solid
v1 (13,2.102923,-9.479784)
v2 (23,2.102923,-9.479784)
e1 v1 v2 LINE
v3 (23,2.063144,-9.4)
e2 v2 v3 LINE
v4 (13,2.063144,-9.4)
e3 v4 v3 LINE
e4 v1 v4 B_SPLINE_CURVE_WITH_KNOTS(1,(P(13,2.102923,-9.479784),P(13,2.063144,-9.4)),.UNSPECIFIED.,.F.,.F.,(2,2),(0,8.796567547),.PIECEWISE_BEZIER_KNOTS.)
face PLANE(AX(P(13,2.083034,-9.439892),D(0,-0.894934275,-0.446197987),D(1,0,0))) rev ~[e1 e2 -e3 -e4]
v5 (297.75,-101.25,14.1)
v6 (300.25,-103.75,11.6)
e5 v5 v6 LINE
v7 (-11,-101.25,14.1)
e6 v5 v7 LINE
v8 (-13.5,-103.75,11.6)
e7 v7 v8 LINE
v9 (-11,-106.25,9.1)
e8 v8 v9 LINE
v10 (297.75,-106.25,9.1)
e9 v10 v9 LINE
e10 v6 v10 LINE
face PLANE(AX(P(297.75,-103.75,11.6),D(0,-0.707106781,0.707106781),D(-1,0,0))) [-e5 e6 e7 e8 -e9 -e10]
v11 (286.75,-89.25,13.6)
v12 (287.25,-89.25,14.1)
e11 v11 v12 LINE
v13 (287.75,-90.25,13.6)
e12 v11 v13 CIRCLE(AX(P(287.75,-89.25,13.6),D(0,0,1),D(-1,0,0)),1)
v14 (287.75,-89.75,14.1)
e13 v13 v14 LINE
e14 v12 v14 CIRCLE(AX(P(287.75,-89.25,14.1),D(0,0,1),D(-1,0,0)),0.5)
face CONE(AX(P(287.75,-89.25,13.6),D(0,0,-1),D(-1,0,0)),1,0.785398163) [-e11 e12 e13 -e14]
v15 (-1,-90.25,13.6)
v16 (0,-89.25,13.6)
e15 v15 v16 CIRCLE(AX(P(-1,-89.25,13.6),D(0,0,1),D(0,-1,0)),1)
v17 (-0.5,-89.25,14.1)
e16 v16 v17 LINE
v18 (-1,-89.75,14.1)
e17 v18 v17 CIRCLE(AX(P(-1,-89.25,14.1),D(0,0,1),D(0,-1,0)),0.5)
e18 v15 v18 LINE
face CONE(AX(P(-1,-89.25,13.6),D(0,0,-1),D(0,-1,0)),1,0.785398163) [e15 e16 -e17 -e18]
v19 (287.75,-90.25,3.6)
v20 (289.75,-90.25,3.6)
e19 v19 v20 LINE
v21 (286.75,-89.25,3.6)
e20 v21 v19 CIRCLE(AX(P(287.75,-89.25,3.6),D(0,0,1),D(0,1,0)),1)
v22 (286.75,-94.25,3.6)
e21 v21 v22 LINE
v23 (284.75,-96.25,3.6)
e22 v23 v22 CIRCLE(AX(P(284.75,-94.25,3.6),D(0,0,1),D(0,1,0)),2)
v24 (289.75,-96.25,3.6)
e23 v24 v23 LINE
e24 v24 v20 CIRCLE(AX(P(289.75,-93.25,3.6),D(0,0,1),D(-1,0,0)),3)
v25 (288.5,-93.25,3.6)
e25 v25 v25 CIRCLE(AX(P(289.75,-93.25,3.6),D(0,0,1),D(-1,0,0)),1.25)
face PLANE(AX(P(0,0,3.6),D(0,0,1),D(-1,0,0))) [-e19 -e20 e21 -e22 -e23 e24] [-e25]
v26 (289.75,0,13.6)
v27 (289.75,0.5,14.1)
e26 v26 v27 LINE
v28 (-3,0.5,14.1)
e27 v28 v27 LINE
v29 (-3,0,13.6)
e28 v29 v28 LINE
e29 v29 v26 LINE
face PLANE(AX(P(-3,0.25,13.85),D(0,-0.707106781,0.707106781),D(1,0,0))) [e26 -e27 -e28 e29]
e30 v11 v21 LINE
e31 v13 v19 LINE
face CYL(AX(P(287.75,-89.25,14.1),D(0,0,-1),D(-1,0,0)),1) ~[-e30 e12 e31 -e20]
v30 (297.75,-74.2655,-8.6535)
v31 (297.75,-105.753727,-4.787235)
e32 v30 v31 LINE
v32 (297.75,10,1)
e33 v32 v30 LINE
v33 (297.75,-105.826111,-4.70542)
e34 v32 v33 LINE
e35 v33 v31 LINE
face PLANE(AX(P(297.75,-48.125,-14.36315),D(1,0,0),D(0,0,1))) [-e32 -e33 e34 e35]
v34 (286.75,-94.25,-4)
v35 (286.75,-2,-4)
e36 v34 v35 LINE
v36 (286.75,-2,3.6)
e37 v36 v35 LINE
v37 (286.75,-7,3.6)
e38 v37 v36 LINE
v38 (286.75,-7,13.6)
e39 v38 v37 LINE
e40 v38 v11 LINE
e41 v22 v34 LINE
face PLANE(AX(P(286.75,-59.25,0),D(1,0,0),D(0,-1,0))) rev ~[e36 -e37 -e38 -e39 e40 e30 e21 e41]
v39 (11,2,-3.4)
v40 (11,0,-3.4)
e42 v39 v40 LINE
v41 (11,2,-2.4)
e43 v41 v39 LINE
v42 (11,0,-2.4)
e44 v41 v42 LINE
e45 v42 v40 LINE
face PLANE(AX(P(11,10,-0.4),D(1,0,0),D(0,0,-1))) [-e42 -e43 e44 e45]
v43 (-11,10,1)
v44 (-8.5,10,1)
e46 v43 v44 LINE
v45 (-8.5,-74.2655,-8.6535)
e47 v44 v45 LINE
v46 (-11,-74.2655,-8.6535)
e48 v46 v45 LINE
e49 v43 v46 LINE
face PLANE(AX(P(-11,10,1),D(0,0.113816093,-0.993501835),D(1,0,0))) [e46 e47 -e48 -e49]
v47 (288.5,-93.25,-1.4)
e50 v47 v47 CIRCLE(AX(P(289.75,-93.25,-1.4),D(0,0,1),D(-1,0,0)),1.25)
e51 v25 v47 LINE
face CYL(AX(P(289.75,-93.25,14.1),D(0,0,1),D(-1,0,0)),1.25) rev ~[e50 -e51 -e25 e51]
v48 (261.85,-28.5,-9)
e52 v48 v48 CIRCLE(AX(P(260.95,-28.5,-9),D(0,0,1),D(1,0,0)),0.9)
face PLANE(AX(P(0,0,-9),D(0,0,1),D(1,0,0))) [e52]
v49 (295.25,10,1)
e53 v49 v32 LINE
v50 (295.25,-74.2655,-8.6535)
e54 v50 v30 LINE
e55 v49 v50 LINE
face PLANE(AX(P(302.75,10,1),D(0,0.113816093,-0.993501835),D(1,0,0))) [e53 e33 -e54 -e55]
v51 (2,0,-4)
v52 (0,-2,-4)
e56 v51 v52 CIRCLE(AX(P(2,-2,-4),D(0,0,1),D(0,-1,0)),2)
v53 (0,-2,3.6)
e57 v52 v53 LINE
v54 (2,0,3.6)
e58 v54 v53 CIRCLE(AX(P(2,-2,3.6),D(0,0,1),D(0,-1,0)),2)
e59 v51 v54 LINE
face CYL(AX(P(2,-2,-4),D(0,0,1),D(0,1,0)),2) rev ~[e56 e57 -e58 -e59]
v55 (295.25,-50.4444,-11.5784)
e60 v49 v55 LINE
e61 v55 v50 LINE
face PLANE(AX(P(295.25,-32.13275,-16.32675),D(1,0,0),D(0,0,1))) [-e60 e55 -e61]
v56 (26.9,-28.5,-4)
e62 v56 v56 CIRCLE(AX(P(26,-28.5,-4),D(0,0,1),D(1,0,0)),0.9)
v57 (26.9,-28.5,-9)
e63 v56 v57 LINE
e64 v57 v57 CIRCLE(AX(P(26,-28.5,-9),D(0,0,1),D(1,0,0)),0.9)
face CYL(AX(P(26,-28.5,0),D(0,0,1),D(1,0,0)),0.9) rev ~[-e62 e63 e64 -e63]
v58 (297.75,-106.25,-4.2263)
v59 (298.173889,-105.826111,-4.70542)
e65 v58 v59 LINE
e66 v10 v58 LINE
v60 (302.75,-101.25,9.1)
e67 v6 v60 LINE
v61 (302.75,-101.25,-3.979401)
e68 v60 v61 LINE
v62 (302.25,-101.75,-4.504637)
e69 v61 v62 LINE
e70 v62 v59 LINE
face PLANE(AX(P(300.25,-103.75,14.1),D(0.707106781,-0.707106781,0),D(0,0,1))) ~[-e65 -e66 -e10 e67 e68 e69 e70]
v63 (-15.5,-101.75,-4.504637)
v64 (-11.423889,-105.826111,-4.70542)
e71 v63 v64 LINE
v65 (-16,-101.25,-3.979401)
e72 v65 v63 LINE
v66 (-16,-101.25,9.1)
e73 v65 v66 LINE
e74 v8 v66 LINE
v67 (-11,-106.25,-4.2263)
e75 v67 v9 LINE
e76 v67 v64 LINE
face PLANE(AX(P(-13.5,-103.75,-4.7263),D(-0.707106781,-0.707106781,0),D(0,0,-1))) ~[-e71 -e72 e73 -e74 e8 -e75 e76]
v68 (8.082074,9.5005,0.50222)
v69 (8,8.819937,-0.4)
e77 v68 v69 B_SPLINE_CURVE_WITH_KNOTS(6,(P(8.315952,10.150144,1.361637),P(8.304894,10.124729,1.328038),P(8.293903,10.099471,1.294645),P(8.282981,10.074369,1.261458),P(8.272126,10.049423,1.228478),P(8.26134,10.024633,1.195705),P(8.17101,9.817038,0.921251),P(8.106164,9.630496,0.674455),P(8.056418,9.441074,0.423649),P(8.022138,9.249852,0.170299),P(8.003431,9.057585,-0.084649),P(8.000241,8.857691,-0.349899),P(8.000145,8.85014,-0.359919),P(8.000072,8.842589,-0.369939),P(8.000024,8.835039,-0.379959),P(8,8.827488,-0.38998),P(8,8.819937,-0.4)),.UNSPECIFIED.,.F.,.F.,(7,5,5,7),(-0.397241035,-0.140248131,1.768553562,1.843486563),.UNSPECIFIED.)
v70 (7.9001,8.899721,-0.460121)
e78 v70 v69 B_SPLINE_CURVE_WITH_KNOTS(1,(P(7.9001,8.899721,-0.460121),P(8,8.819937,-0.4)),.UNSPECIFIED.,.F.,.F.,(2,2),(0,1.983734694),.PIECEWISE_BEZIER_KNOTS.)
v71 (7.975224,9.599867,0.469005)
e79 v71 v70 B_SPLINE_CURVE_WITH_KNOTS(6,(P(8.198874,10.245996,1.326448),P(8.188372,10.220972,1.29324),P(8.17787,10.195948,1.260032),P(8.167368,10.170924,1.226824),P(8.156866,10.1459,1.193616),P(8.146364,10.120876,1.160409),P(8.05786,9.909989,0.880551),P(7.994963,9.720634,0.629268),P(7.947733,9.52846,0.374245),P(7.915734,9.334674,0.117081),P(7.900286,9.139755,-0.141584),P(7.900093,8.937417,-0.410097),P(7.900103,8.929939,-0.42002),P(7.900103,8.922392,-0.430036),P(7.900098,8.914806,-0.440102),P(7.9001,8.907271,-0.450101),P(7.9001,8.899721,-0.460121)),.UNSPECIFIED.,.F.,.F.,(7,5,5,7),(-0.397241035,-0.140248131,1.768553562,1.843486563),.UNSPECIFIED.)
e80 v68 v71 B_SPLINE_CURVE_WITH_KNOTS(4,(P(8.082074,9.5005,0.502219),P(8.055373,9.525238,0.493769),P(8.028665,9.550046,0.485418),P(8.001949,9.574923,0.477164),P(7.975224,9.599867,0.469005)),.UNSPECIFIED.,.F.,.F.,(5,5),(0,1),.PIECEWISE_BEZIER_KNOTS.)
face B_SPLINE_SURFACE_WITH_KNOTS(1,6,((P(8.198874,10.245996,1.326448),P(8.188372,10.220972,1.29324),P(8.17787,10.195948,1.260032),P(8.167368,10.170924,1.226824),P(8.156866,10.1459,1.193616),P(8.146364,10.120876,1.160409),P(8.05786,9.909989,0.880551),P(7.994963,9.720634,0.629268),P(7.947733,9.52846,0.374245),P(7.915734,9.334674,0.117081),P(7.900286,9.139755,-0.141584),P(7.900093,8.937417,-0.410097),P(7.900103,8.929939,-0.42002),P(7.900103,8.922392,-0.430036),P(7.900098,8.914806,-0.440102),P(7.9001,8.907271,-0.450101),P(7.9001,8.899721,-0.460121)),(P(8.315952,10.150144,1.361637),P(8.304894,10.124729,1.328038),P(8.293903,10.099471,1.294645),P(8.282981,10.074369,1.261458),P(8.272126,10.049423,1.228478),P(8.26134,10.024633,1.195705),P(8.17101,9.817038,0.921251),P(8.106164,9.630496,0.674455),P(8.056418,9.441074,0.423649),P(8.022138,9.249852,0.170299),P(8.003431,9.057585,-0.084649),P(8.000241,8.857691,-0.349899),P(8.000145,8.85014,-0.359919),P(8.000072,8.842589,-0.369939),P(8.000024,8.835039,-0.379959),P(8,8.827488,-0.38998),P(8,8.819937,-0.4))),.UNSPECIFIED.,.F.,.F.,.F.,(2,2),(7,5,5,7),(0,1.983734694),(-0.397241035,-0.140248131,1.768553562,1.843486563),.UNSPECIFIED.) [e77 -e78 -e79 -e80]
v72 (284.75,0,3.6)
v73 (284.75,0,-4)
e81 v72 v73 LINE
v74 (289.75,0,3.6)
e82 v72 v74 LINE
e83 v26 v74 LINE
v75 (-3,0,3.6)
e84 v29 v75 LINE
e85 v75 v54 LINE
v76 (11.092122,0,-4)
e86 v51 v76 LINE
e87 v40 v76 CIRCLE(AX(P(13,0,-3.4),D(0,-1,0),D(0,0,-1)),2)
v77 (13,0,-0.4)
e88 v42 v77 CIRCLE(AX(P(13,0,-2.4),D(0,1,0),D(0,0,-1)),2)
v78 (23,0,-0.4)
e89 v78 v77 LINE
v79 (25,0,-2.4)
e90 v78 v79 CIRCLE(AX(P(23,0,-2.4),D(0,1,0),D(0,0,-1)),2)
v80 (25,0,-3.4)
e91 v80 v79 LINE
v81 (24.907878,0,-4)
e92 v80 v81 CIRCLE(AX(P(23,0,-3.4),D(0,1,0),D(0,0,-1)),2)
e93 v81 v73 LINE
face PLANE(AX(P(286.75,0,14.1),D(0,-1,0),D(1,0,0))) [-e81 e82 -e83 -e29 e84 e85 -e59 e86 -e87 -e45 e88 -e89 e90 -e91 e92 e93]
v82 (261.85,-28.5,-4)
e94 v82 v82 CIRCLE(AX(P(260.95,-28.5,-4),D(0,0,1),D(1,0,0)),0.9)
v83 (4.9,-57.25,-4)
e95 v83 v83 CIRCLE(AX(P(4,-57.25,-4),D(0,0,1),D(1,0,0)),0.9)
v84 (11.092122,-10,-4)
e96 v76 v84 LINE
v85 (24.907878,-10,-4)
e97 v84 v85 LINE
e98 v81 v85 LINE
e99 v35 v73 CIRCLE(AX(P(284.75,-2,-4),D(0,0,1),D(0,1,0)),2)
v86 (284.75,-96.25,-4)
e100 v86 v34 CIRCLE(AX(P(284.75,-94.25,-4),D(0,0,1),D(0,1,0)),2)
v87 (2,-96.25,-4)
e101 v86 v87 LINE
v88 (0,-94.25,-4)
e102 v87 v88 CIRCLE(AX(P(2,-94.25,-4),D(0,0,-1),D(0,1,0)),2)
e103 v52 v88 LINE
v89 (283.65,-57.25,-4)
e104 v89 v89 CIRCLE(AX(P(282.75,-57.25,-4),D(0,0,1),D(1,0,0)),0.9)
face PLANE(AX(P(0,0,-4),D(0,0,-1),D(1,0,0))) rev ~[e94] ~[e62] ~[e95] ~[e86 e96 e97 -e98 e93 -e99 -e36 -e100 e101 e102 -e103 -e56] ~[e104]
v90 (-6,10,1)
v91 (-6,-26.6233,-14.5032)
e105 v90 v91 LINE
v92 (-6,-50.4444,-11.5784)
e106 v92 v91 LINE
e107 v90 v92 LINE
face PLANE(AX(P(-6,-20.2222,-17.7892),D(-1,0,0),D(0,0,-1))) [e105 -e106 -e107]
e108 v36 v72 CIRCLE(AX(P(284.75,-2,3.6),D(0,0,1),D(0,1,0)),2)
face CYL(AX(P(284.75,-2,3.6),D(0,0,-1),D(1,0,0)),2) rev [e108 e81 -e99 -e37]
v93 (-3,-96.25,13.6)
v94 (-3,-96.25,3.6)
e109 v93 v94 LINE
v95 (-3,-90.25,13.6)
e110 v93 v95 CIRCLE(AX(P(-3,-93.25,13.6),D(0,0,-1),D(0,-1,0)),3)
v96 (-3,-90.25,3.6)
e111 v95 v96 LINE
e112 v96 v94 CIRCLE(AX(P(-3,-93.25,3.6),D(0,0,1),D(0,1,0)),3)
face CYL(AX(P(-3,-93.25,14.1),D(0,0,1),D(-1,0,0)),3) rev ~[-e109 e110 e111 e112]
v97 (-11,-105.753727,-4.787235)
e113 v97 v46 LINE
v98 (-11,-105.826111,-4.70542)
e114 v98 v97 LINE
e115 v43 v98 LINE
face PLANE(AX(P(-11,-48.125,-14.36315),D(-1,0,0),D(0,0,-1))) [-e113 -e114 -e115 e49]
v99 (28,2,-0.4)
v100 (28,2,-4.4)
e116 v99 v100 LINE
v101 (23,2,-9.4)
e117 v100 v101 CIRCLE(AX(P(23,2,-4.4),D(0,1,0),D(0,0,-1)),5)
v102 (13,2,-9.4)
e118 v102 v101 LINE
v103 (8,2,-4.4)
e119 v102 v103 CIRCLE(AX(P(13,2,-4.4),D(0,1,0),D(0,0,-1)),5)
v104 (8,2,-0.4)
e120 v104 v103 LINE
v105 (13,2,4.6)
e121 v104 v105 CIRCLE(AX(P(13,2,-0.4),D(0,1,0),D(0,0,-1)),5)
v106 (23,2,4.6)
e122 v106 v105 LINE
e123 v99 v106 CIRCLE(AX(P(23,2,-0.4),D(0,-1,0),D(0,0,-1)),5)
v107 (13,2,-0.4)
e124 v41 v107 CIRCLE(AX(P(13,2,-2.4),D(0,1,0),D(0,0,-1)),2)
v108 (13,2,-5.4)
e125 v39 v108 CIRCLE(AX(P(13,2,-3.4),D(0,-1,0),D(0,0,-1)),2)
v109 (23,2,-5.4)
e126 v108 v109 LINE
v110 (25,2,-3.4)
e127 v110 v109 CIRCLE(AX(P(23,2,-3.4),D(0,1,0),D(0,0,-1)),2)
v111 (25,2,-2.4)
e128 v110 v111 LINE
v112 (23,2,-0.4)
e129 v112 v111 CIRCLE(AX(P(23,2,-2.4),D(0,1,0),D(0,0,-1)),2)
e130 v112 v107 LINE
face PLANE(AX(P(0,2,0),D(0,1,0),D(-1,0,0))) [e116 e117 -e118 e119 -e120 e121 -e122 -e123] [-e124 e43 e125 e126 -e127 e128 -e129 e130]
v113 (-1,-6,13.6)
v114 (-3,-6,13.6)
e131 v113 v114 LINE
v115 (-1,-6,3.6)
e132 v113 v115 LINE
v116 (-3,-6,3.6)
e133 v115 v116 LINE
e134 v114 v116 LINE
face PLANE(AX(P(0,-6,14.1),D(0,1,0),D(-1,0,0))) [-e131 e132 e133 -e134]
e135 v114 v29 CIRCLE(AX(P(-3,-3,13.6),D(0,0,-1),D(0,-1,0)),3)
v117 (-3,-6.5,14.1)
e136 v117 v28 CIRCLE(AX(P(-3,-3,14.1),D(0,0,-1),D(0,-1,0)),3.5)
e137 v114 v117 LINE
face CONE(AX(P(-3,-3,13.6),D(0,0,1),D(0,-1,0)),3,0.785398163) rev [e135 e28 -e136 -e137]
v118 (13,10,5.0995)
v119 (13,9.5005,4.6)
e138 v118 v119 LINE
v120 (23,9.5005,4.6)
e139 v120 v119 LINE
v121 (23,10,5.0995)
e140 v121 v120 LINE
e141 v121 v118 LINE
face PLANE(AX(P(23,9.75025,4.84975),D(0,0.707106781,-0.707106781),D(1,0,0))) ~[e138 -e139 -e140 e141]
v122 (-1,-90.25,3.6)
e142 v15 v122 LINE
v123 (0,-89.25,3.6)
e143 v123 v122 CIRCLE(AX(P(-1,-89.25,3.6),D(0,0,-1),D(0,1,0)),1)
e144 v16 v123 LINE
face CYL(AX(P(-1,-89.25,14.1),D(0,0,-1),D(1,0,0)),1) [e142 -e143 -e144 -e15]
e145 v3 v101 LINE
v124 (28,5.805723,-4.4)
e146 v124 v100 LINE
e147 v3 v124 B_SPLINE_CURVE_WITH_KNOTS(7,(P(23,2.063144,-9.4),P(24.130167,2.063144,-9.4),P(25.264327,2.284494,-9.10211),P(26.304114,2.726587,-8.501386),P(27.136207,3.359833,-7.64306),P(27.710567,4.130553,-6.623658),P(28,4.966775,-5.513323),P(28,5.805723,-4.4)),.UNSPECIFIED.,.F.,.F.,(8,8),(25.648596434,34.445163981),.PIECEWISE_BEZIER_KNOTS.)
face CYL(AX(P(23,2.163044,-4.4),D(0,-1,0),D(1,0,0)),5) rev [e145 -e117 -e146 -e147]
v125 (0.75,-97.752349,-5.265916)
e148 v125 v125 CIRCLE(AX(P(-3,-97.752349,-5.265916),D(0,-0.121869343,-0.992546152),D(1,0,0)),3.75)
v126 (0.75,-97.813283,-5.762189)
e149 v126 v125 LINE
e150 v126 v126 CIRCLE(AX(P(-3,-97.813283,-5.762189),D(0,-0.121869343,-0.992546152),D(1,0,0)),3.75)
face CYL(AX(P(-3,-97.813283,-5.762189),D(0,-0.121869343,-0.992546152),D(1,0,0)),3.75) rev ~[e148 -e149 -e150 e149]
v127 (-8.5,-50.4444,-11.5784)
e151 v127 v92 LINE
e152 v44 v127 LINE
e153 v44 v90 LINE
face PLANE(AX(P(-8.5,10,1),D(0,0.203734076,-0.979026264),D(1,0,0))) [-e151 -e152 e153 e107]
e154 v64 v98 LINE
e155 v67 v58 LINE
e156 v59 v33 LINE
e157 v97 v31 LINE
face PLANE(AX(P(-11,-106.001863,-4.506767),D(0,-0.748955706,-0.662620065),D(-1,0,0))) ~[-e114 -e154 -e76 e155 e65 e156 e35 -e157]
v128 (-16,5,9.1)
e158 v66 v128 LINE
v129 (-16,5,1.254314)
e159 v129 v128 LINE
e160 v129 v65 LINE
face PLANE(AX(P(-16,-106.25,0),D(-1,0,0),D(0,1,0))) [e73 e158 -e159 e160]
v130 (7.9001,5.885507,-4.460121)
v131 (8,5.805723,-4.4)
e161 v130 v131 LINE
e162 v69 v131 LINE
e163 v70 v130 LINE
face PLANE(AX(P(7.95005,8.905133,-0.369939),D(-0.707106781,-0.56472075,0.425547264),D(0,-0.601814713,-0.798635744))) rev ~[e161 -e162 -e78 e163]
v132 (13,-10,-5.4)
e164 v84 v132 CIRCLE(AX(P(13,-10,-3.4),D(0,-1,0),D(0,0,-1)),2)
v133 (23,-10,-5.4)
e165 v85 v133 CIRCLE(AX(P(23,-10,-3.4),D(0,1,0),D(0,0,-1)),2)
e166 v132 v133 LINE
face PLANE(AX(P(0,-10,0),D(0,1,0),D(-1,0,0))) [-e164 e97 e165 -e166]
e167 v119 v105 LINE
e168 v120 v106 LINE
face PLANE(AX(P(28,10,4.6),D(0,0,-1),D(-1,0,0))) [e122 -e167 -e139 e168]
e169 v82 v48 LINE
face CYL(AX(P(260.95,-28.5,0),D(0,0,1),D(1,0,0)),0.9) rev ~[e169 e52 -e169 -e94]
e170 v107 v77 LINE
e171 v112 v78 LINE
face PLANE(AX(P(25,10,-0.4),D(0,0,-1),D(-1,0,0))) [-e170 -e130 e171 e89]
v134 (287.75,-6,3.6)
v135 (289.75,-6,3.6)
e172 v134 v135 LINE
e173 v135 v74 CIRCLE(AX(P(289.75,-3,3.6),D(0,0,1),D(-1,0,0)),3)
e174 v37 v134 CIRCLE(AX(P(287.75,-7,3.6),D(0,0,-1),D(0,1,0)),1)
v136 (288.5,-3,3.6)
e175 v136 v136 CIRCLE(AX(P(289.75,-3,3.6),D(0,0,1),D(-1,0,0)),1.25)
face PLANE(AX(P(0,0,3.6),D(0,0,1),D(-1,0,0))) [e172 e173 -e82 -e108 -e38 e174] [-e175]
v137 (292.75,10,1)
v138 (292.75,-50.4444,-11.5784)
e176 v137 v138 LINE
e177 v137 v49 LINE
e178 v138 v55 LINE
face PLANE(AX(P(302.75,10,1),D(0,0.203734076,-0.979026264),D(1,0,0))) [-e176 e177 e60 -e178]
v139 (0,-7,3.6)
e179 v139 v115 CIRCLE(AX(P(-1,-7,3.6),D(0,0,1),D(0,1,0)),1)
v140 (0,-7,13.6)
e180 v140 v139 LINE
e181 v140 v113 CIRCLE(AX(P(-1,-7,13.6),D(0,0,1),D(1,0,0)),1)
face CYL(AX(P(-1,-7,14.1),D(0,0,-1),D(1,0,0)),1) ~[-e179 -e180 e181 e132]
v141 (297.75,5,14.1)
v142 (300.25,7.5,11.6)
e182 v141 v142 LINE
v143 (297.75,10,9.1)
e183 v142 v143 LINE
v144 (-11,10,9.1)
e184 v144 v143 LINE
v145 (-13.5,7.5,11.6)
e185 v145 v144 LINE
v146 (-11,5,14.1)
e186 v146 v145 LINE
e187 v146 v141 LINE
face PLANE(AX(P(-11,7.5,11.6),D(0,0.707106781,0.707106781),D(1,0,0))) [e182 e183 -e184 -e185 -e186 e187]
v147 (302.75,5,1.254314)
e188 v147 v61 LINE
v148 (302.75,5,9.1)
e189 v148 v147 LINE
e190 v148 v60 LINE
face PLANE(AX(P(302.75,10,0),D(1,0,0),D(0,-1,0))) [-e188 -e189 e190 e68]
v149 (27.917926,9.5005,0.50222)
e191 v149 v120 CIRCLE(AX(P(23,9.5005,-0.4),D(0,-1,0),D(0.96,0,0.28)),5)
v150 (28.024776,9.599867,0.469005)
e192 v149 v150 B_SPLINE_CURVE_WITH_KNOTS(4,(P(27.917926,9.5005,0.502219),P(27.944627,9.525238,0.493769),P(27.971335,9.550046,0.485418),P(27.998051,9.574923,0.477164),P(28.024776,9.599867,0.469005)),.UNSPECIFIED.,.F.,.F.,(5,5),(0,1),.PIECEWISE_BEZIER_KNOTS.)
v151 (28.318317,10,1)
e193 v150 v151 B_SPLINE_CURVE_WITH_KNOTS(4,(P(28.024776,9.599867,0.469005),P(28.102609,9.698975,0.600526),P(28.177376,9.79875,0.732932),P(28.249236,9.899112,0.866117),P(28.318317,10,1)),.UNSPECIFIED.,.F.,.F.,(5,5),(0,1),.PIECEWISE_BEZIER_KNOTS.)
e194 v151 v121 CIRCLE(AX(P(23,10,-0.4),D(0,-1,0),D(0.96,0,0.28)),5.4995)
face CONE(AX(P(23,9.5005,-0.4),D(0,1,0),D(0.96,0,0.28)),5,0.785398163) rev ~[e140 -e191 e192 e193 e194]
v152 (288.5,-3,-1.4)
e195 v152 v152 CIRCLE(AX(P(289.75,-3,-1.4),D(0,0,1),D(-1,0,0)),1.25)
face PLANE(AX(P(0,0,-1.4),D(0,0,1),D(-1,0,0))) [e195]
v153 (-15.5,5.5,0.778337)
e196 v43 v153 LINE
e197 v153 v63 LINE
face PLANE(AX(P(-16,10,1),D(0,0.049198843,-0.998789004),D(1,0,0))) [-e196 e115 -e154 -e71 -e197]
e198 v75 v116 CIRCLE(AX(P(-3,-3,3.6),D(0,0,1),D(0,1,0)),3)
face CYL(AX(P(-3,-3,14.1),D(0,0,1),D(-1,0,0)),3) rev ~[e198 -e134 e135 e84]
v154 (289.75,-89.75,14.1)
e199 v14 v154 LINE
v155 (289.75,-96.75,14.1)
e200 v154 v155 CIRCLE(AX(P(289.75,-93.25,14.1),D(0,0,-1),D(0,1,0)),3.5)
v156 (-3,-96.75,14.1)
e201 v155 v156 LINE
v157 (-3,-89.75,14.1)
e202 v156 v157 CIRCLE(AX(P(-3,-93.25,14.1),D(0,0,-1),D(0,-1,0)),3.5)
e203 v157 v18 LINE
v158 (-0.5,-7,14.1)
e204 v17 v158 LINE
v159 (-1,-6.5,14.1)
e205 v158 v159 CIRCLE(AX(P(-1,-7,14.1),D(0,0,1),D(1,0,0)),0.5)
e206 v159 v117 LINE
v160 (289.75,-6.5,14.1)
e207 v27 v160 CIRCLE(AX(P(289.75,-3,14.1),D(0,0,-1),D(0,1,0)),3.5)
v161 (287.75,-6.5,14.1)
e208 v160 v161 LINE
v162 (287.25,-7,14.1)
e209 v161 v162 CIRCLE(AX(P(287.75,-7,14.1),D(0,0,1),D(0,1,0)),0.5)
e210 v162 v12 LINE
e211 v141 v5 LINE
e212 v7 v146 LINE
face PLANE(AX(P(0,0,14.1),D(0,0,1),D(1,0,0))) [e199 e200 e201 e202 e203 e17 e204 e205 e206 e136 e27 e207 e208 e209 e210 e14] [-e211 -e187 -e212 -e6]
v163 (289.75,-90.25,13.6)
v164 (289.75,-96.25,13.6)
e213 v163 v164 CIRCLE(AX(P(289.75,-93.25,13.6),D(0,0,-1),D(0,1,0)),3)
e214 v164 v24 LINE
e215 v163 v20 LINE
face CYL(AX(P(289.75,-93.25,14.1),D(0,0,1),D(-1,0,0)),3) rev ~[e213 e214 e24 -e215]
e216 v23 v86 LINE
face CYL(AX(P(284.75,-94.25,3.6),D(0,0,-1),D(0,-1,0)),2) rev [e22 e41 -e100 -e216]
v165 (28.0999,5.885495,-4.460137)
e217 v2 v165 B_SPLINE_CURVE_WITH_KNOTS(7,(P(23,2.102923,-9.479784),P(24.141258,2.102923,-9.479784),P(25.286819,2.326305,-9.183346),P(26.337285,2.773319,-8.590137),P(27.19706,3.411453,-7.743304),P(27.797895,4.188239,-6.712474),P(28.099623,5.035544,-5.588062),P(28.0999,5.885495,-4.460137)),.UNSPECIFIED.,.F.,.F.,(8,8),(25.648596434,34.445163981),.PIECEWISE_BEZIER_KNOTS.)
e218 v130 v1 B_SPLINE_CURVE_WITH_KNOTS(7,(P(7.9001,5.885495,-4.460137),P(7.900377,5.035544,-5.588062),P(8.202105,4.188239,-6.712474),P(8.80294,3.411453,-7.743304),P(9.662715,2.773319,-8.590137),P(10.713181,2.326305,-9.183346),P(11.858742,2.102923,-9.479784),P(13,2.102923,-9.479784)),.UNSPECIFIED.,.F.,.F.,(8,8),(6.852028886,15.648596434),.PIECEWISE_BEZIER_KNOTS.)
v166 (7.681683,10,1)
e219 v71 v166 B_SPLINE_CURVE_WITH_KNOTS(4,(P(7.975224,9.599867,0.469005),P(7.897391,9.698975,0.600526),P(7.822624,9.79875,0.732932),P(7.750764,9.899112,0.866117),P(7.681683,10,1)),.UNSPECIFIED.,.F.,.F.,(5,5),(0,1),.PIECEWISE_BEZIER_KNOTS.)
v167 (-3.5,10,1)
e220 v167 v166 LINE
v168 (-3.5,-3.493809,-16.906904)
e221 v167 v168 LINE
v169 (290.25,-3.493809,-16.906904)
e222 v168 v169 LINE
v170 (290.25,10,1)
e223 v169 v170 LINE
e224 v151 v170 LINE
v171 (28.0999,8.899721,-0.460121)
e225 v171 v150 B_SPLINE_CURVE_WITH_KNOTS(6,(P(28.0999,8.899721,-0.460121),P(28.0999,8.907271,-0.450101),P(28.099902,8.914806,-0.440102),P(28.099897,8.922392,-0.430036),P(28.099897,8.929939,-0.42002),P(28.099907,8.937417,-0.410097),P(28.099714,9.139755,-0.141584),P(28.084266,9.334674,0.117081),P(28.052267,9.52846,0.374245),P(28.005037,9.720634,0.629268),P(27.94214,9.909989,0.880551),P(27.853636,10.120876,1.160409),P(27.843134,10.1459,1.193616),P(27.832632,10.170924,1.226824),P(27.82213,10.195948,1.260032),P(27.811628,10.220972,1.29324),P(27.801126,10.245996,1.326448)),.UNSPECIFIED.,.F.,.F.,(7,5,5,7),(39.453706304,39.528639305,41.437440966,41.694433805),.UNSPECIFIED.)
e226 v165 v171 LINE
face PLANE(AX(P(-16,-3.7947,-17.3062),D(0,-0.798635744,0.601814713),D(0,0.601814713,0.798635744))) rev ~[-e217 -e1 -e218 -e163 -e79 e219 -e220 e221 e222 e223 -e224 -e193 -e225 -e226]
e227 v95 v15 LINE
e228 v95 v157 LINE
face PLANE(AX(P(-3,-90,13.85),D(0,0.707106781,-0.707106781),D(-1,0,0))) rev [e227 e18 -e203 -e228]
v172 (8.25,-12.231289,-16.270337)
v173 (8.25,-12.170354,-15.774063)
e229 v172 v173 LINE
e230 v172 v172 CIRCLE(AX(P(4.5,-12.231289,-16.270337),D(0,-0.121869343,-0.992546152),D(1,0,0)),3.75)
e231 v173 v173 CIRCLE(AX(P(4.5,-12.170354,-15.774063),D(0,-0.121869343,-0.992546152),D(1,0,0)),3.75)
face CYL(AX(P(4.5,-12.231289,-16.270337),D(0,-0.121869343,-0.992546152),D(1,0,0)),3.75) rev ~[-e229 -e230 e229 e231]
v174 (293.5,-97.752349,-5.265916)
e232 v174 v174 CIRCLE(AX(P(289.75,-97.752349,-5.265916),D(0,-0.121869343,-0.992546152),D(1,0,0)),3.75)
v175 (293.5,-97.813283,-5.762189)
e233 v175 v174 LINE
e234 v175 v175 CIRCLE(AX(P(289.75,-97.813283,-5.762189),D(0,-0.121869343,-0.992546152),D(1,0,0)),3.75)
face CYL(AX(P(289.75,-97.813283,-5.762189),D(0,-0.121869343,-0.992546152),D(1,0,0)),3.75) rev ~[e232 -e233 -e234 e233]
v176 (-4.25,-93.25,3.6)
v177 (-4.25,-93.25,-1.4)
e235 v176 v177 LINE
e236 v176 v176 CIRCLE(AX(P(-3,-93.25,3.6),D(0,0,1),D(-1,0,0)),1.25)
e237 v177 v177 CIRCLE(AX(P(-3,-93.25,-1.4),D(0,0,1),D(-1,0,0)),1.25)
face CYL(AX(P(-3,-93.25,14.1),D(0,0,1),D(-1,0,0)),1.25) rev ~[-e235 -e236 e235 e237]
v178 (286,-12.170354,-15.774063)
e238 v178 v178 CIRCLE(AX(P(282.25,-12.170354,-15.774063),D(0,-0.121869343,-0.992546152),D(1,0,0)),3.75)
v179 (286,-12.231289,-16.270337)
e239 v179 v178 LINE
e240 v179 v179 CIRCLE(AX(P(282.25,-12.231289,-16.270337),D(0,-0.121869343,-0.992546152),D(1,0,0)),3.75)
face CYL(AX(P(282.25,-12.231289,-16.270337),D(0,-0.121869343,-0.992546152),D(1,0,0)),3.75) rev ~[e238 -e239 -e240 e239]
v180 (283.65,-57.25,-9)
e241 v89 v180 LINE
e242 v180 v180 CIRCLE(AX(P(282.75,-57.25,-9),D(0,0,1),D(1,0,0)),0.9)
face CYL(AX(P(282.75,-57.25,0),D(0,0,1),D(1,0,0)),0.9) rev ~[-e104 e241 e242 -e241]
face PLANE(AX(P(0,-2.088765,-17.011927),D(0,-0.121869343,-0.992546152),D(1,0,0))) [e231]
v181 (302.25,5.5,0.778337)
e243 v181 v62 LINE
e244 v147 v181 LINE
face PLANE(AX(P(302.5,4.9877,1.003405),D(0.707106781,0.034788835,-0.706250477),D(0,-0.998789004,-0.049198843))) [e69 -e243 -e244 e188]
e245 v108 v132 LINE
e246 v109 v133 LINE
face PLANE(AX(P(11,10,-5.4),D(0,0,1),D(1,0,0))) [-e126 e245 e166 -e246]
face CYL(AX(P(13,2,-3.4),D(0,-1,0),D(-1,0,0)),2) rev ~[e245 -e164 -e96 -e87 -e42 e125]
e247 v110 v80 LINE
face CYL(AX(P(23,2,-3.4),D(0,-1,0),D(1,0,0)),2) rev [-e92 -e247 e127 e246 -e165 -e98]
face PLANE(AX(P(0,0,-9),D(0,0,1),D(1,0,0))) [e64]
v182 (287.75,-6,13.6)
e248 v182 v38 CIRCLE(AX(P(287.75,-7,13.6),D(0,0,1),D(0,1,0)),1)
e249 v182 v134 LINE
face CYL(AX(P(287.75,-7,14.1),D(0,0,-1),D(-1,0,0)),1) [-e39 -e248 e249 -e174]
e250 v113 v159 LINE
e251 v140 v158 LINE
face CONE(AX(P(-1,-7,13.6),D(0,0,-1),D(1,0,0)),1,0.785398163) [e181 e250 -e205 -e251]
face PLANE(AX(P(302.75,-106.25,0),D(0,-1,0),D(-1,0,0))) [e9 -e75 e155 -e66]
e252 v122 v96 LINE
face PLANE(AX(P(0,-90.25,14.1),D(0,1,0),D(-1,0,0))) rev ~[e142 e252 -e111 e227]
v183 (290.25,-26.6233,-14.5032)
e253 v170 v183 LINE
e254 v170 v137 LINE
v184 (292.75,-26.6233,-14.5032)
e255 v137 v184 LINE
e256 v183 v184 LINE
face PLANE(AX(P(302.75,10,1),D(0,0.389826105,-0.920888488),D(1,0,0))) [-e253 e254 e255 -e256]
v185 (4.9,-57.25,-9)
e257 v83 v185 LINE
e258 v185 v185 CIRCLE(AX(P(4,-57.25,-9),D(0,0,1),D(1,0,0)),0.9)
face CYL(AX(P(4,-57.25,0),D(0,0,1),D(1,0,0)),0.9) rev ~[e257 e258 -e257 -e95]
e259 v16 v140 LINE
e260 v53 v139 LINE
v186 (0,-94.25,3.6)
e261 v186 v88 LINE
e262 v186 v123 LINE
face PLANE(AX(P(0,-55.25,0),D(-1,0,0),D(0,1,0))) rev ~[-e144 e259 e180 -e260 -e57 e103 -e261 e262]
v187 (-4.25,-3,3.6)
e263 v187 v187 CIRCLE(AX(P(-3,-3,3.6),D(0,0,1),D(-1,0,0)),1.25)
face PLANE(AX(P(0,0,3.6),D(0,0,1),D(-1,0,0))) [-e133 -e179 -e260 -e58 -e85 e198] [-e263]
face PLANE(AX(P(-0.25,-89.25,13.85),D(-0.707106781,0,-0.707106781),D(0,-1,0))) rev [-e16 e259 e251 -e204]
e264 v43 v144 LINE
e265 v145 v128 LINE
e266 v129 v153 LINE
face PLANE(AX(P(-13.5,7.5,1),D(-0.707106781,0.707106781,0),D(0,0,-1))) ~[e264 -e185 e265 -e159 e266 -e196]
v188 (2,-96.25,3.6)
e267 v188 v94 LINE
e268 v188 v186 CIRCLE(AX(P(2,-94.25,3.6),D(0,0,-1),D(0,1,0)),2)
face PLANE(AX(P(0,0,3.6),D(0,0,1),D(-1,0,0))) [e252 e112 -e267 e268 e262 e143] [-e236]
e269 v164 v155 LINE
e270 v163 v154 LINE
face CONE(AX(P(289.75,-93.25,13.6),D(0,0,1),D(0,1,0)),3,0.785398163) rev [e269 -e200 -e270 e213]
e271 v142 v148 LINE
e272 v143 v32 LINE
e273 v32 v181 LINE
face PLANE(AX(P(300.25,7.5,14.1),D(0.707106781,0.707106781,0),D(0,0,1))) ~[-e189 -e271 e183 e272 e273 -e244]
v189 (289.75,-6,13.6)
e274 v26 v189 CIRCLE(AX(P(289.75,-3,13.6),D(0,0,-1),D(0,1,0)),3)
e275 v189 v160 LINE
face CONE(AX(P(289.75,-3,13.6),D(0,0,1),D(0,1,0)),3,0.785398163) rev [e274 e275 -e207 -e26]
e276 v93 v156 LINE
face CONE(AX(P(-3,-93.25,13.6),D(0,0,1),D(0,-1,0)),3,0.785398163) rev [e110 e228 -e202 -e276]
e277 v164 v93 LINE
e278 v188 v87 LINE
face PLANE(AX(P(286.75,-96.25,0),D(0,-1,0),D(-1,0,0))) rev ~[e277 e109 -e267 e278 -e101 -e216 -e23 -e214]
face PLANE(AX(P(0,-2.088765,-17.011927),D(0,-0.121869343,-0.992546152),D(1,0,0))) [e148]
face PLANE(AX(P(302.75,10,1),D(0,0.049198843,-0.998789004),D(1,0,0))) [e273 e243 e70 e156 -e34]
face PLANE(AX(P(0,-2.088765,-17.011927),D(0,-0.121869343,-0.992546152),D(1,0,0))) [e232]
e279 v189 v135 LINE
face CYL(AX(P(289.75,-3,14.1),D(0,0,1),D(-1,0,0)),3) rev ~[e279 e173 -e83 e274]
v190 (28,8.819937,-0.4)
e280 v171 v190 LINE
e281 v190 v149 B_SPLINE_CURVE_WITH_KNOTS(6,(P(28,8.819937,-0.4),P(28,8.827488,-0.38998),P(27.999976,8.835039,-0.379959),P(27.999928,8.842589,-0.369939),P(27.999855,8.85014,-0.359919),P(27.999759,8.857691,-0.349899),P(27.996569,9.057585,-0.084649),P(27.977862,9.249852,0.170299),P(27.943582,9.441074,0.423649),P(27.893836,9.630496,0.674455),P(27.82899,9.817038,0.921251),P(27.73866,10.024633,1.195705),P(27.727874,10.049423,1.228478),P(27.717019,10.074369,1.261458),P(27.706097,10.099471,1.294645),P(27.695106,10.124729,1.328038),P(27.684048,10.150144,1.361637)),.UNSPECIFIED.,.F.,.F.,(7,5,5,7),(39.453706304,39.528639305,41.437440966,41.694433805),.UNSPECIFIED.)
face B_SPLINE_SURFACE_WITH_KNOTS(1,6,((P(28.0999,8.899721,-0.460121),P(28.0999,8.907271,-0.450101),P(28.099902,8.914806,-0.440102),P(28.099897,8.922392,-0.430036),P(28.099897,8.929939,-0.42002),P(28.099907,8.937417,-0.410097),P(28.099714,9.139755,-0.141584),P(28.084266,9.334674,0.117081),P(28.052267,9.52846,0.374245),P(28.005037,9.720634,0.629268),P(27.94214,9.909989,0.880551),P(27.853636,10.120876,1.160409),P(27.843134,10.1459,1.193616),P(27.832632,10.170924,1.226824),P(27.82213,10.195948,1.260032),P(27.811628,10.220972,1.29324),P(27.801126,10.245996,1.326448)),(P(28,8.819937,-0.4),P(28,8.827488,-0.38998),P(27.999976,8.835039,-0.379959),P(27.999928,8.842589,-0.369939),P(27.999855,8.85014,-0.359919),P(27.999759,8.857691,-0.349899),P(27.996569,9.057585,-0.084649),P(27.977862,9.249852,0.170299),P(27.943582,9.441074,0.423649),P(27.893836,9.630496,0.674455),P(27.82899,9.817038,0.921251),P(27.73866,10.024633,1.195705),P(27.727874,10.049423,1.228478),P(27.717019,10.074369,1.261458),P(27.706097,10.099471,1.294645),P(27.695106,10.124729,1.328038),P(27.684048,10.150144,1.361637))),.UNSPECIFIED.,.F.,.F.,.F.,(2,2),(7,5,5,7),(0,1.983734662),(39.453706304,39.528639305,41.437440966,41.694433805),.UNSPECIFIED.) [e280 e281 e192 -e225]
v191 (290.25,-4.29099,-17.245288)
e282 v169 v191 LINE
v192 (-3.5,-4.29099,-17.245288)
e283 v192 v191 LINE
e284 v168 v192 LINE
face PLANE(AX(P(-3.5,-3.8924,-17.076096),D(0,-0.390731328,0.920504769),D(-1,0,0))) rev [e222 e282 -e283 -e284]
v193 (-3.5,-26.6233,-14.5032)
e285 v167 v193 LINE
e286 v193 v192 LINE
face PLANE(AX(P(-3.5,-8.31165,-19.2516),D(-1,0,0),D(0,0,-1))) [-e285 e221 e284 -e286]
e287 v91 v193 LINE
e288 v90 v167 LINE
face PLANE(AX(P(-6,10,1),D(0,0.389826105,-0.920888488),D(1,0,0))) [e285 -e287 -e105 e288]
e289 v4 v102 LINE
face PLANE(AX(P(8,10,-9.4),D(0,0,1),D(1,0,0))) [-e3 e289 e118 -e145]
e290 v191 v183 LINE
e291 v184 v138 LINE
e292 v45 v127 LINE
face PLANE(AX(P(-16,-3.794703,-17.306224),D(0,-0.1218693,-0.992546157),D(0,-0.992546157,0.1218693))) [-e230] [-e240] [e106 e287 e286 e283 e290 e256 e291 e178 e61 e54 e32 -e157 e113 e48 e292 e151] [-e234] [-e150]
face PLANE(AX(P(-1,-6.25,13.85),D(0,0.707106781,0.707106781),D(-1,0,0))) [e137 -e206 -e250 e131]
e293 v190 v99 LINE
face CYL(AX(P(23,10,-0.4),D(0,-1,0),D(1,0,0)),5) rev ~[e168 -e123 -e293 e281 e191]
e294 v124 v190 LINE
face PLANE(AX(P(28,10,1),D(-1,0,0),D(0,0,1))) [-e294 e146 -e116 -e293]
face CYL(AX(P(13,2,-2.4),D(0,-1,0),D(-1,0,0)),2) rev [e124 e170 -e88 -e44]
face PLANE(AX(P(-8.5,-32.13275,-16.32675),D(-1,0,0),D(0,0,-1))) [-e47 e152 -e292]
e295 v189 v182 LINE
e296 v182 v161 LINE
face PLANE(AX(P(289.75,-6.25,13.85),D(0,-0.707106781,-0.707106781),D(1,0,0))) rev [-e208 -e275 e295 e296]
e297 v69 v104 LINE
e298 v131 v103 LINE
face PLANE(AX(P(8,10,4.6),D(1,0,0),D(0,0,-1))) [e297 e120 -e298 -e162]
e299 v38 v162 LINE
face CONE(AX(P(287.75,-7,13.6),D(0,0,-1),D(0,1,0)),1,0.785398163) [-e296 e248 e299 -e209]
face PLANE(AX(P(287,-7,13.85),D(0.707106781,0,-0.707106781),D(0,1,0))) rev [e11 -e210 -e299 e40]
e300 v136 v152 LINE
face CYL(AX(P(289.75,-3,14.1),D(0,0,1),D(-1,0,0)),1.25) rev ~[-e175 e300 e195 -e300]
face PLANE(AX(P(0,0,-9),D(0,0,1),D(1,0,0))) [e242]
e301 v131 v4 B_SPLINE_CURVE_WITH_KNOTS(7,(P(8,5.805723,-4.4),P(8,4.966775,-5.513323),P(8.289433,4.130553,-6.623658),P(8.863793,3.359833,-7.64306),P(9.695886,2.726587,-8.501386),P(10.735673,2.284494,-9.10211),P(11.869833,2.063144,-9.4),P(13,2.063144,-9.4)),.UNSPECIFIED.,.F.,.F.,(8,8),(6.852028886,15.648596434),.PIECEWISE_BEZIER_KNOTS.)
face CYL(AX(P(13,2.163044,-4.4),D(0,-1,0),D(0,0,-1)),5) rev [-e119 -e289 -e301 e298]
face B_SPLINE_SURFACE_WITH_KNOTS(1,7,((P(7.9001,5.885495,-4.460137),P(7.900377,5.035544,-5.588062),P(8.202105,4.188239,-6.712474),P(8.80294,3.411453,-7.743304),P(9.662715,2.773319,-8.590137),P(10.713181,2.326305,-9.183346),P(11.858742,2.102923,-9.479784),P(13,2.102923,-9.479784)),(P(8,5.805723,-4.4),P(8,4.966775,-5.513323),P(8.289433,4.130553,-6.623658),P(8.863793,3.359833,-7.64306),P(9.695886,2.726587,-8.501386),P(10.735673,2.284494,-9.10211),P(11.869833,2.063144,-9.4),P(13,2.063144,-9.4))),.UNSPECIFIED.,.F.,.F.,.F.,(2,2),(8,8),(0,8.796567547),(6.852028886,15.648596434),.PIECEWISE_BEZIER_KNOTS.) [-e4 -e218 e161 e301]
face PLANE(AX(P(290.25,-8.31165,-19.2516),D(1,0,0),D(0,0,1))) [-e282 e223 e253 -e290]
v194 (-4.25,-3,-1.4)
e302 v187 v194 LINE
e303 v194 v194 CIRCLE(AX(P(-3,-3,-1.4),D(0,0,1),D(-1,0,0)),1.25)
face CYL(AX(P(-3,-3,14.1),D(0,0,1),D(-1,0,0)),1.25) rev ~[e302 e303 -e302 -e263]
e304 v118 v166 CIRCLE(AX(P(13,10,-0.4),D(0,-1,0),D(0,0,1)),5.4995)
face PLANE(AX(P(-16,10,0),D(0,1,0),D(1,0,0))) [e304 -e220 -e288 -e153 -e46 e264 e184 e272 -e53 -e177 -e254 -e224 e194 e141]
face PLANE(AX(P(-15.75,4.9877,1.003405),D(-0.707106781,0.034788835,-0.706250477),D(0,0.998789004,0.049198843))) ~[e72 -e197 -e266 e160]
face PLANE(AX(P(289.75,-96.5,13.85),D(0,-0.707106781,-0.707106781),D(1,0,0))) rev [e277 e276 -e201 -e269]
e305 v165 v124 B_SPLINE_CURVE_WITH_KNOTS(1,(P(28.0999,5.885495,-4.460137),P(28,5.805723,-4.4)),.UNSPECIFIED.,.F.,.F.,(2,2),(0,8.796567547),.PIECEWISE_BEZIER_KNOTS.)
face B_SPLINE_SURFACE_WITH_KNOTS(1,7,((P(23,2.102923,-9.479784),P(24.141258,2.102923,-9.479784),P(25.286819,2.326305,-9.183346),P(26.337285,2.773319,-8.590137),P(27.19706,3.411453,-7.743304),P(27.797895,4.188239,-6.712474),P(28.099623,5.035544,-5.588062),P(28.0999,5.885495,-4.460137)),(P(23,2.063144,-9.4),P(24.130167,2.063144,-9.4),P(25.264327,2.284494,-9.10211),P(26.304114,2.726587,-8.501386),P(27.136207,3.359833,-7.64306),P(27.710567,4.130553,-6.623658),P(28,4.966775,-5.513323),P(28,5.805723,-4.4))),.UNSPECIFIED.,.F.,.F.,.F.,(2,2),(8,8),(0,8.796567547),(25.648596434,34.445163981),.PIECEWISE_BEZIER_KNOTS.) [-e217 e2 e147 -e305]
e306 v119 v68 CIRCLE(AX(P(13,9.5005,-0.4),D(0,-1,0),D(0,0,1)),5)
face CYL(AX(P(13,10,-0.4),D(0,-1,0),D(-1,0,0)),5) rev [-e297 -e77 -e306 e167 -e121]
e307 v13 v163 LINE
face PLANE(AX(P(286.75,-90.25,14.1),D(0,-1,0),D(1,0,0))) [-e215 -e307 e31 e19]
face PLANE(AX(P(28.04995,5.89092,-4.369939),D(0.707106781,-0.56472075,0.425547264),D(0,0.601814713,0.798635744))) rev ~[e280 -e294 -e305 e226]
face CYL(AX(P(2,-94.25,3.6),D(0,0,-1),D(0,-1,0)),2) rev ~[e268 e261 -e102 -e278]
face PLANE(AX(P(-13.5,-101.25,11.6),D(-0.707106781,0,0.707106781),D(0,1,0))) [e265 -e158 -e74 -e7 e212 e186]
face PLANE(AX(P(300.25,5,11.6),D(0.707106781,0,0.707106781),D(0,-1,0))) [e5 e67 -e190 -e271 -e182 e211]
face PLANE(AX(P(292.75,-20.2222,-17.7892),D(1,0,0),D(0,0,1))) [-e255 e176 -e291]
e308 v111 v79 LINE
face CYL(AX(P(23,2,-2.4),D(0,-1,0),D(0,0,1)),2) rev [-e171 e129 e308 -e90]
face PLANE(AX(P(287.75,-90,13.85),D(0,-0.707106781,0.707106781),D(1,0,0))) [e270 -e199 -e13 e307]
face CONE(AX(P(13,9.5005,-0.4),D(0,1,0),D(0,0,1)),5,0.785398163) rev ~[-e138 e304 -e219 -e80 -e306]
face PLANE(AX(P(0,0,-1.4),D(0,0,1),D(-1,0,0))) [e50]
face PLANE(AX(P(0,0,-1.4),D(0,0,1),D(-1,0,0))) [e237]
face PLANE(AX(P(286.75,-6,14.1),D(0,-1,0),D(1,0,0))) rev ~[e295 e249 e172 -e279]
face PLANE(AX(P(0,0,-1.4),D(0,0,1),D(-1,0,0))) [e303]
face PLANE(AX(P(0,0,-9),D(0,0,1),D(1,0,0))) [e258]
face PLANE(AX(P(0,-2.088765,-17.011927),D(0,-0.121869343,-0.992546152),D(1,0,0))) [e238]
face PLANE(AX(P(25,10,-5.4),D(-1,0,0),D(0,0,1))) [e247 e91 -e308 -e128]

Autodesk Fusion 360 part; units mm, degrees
sketch "スケッチ1" plane through (0, 0, 0) normal (0, 0, 1) x (1, 0, 0)
  line L0 (0, 0) -> (286.75, 0)
  line L1 (286.75, 0) -> (286.75, -96.25)
  line L2 (286.75, -96.25) -> (0, -96.25)
  line L3 (0, -96.25) -> (0, 0)
  line L4 (-16, 10) -> (302.75, 10)
  line L5 (302.75, 10) -> (302.75, -106.25)
  line L6 (302.75, -106.25) -> (-16, -106.25)
  line L7 (-16, -106.25) -> (-16, 10)
  circle A0 centre (260.95, -28.5) radius 2
  circle A1 centre (282.75, -57.25) radius 2
  circle A2 centre (191.45, -85.85) radius 2
  circle A3 centre (4, -57.25) radius 2
  circle A4 centre (26, -28.5) radius 2
  line L8 (286.75, -59.25) -> (282.75, -59.25)
  line L9 (286.75, -55.25) -> (282.75, -55.25)
  line L10 (0, -59.25) -> (4, -59.25)
  line L11 (0, -55.25) -> (4, -55.25)
  circle A5 centre (129, -47.75) radius 2
  circle A6 centre (4, -57.25) radius 0.9
  circle A7 centre (26, -28.5) radius 0.9
  circle A8 centre (191.45, -85.85) radius 0.9
  circle A9 centre (129, -47.75) radius 0.9
  circle A10 centre (282.75, -57.25) radius 0.9
  circle A11 centre (260.95, -28.5) radius 0.9
  dimension "d7" = 286.75
  dimension "d8" = 96.25
  dimension "d9" = 16
  dimension "d10" = 10
  dimension "d11" = 10
  dimension "d12" = 16
  dimension "d13" = 4
  dimension "d14" = 28.5
  dimension "d15" = 25.8
  dimension "d16" = 4
  dimension "d17" = 4
  dimension "d18" = 4
  dimension "d19" = 4
  dimension "d20" = 28.5
  dimension "d21" = 26
  dimension "d22" = 39
  dimension "d23" = 4
  dimension "d24" = 4
  dimension "d25" = 39
  dimension "d26" = 10.4
  dimension "d27" = 95.3
  dimension "d28" = 4
  dimension "d29" = 129
  dimension "d30" = 48.5
  dimension "d54" = 1.8
  dimension "d55" = 1.8
  dimension "d56" = 1.8
  dimension "d57" = 1.8
  dimension "d58" = 1.8
  dimension "d59" = 1.8
extrude "押し出し1" add sketch "スケッチ1" along normal blind 14.1 contours L4 L5 L6 L7
extrude "押し出し2" add sketch "スケッチ1" against normal blind 4 contours L4 L5 L6 L7
sketch "スケッチ2" plane through (0, 0, -4) normal (0, 0, -1) x (1, 0, 0)
  line L0 (0, 96.25) -> (286.75, 96.25)
  line L1 (286.75, 96.25) -> (286.75, 0)
  line L2 (286.75, 0) -> (0, 0)
  line L3 (0, 0) -> (0, 96.25)
  line L4 (302.75, 106.25) -> (-16, 106.25)
  line L5 (-16, 106.25) -> (-16, -10)
  line L6 (-16, -10) -> (302.75, -10)
  line L7 (302.75, -10) -> (302.75, 106.25)
extrude "押し出し3" add sketch "スケッチ2" along normal blind 15 contours L0 L1 L2 L3 | L4 L5 L6 L7
sketch "スケッチ3" plane through (-16, 0, 0) normal (-1, 0, 0) x (0, -1, 0)
  line L0 (106.25, -19) -> (106.25, 14.1)
  line L1 (106.25, 14.1) -> (-10, 14.1)
  line L2 (-10, 14.1) -> (-10, -19)
  line L3 (-10, -19) -> (106.25, -19)
  line L4 (-10, -19) -> (106.25, -4.7263)
  line L5 (3.7947, -17.3062) -> (-10, 1)
  dimension "d37" = 7
  dimension "d77" = 120
  dimension "d78" = 20
extrude "押し出し4" cut sketch "スケッチ3" against normal blind 320 contours L0 L3 L4 | L2 L4 L5
sketch "スケッチ4" plane through (0, 10, 0) normal (0, 1, 0) x (-1, 0, 0)
  line L0 (16, 1) -> (16, 14.1)
  line L1 (16, 14.1) -> (-302.75, 14.1)
  line L2 (-302.75, 14.1) -> (-302.75, 1)
  line L3 (-28, 4.6) -> (-8, 4.6)
  line L4 (-8, 4.6) -> (-8, -9.4)
  line L5 (-8, -9.4) -> (-28, -9.4)
  line L6 (-28, -9.4) -> (-28, 4.6)
  line L7 (-25, -0.4) -> (-11, -0.4)
  line L8 (-11, -0.4) -> (-11, -5.4)
  line L9 (-11, -5.4) -> (-25, -5.4)
  line L10 (-25, -5.4) -> (-25, -0.4)
  line L11 (-302.75, 1) -> (16, 1)
  dimension "d42" = 20
  dimension "d43" = 14
  dimension "d44" = 24
  dimension "d45" = 9.5
  dimension "d46" = 14
  dimension "d47" = 5
  dimension "d48" = 27
  dimension "d49" = 14.5
extrude "押し出し6" cut sketch "スケッチ4" against normal blind 20 contours L7 L8 L9 L10
extrude "押し出し7" cut sketch "スケッチ4" against normal blind 8 contours L3 L4 L6 L11 | L4 L5 L6 L11
ref_plane "作業平面1" through (143.375, -48.125, 5.1) normal (0, 0, 1) x (1, 0, 0)
fillet "フィレット4" radius 5 4 edges at (8, 6, 4.6) (28, 6, 4.6) (28, 2.0815, -9.4) (8, 2.0815, -9.4)
sketch "スケッチ6" plane through (-16, 0, 0) normal (-1, 0, 0) x (0, -1, 0)
  line L0 (3.7947, -17.3062) -> (106.25, -4.7263)
  line L1 (106.25, 14.1) -> (-10, 14.1)
  line L2 (-10, 1) -> (26.6233, -14.5032)
  line L3 (-10, 1) -> (50.4444, -11.5784)
  line L4 (-10, 1) -> (106.25, -4.7263)
  line L5 (-10, 1) -> (74.2655, -8.6535)
  line L6 (-10, 1) -> (3.7947, -17.3062)
  line L7 (106.25, -4.7263) -> (106.25, 14.1)
  line L8 (-10, 14.1) -> (-10, 1)
  point P0 (-10, 1)
  dimension "d79" = 23
  dimension "d80" = 47
  dimension "d81" = 71
  dimension "d82" = 103.2247
sketch "スケッチ7" plane through (0, 10, 0) normal (0, 1, 0) x (-1, 0, 0)
  arc A0 (-23, 4.6) -> (-27.8, 1) centre (-23, -0.4) ccw
  line L0 (-23, 4.6) -> (-13, 4.6)
  arc A1 (-8.2, 1) -> (-13, 4.6) centre (-13, -0.4) ccw
  line L1 (-302.75, 1) -> (-27.8, 1)
  line L2 (16, 14.1) -> (-302.75, 14.1)
  line L3 (16, 1) -> (11, 1)
  line L4 (11, 1) -> (11, -24)
  line L5 (11, -24) -> (16, -24)
  line L6 (16, -24) -> (16, 1)
  line L7 (11, 1) -> (8.5, 1)
  line L8 (8.5, 1) -> (8.5, -24)
  line L9 (8.5, -24) -> (11, -24)
  line L10 (11, -24) -> (11, 1)
  line L11 (8.5, 1) -> (6, 1)
  line L12 (6, 1) -> (6, -24)
  line L13 (6, -24) -> (8.5, -24)
  line L14 (8.5, -24) -> (8.5, 1)
  line L15 (6, 1) -> (3.5, 1)
  line L16 (3.5, 1) -> (3.5, -24)
  line L17 (3.5, -24) -> (6, -24)
  line L18 (6, -24) -> (6, 1)
  line L19 (-8.2, 1) -> (16, 1)
  line L20 (16, 1) -> (16, 14.1)
  line L21 (-302.75, 14.1) -> (-302.75, 1)
  dimension "d83" = 25
  dimension "d84" = 5
  dimension "d85" = 2.5
  dimension "d86" = 25
  dimension "d87" = 2.5
  dimension "d88" = 25
  dimension "d89" = 2.5
  dimension "d90" = 25
sweep "スイープ1" cut profiles "スケッチ7" path "スケッチ6" along L4 section 1 contours L3 L4 L5 L6 L10 L19
sweep "スイープ2" cut profiles "スケッチ7" path "スケッチ6" along L5 section 1 contours L4 L7 L8 L9 L10 L14 L19
sweep "スイープ3" cut profiles "スケッチ7" path "スケッチ6" along L3 section 1 contours L8 L11 L12 L13 L14 L18 L19
sweep "スイープ4" cut profiles "スケッチ7" path "スケッチ6" along L2 section 1 contours L12 L15 L16 L17 L18 L19
sketch "スケッチ8" plane through (302.75, 0, 0) normal (1, 0, 0) x (0, 1, 0)
  line L0 (-106.25, -4.7263) -> (-3.7947, -17.3062)
  line L1 (-3.7947, -17.3062) -> (10, 1)
  line L2 (10, 1) -> (10, 14.1)
  line L3 (10, 14.1) -> (-106.25, 14.1)
  line L4 (-106.25, 14.1) -> (-106.25, -4.7263)
  line L5 (10, 1) -> (-106.25, -4.7263)
  line L6 (10, 1) -> (-74.2655, -8.6535)
  line L7 (10, 1) -> (-50.4444, -11.5784)
  line L8 (10, 1) -> (-26.6233, -14.5032)
  dimension "d116" = 23
  dimension "d117" = 47
  dimension "d118" = 71
sketch "スケッチ9" plane through (0, 10, 0) normal (0, 1, 0) x (-1, 0, 0)
  line L0 (-8.2, 1) -> (3.5, 1)
  line L1 (3.5, 1) -> (6, 1)
  line L2 (6, 1) -> (8.5, 1)
  line L3 (8.5, 1) -> (11, 1)
  line L4 (11, 1) -> (16, 1)
  line L5 (16, 1) -> (16, 14.1)
  line L6 (16, 14.1) -> (-302.75, 14.1)
  line L7 (-302.75, 14.1) -> (-302.75, 1)
  line L8 (-302.75, 1) -> (-27.8, 1)
  arc A0 (-23, 4.6) -> (-27.8, 1) centre (-23, -0.4) ccw
  line L9 (-23, 4.6) -> (-13, 4.6)
  arc A1 (-8.2, 1) -> (-13, 4.6) centre (-13, -0.4) ccw
  line L10 (-302.75, 1) -> (-297.75, 1)
  line L11 (-297.75, 1) -> (-297.75, -24)
  line L12 (-297.75, -24) -> (-302.75, -24)
  line L13 (-302.75, -24) -> (-302.75, 1)
  line L14 (-297.75, 1) -> (-295.25, 1)
  line L15 (-295.25, 1) -> (-295.25, -24)
  line L16 (-295.25, -24) -> (-297.75, -24)
  line L17 (-297.75, -24) -> (-297.75, 1)
  line L18 (-295.25, 1) -> (-292.75, 1)
  line L19 (-292.75, 1) -> (-292.75, -24)
  line L20 (-292.75, -24) -> (-295.25, -24)
  line L21 (-295.25, -24) -> (-295.25, 1)
  line L22 (-292.75, 1) -> (-290.25, 1)
  line L23 (-290.25, 1) -> (-290.25, -24)
  line L24 (-290.25, -24) -> (-292.75, -24)
  line L25 (-292.75, -24) -> (-292.75, 1)
  dimension "d119" = 5
  dimension "d120" = 25
  dimension "d121" = 2.5
  dimension "d122" = 25
  dimension "d123" = 2.5
  dimension "d124" = 25
  dimension "d125" = 2.5
  dimension "d126" = 25
sweep "スイープ5" cut profiles "スケッチ9" path "スケッチ8" along L5 section 1 contours L8 L10 L11 L12 L13 L17
sweep "スイープ6" cut profiles "スケッチ9" path "スケッチ8" along L6 section 1 contours L8 L11 L14 L15 L16 L17 L21
sweep "スイープ7" cut profiles "スケッチ9" path "スケッチ8" along L7 section 1 contours L8 L15 L18 L19 L20 L21 L25
sweep "スイープ8" cut profiles "スケッチ9" path "スケッチ8" along L8 section 1 contours L8 L19 L22 L23 L24 L25
chamfer "面取り2" distance 5 angle 45 4 edges at (302.75, -106.25, 4.6869) (302.75, 10, 7.55) (-16, 10, 7.55) (-16, -106.25, 4.6869)
chamfer "面取り3" distance 5 angle 45 4 edges at (302.75, -48.125, 14.1) (143.375, -106.25, 14.1) (143.375, 10, 14.1) (-16, -48.125, 14.1)
chamfer "面取り5" distance 0.1 angle 45 7 edges at (27.9497, 9.4779, 0.3071) (8.0503, 9.4779, 0.3071) (8, 7.4379, -2.4) (9.4645, 3.2666, -7.9355) (18, 2.163, -9.4) (26.5355, 3.2666, -7.9355) (28, 7.4379, -2.4)
chamfer "面取り5" distance 0.5 angle 45 3 edges at (18, 10, 4.6) (10, 10, 3.6) (26, 10, 3.6)
chamfer "面取り6" distance 0.5 angle 45 2 edges at (302.75, -48.125, -1.8631) (-16, -48.125, -1.8631)
chamfer "面取り7" distance 0.5 angle 45 2 edges at (143.375, -3.7947, -17.3062) (143.375, -106.25, -4.7263)
sketch "スケッチ10" plane through (0, -2.1497, -17.5082) normal (0, -0.1219, -0.9925) x (1, 0, 0)
  line L0 (297.75, 104.382) -> (-11, 104.382)
  line L1 (-11, 104.382) -> (-11, 72.6573)
  line L2 (-11, 72.6573) -> (-8.5, 72.6573)
  line L3 (-8.5, 72.6573) -> (-8.5, 48.6573)
  line L4 (-8.5, 48.6573) -> (-6, 48.6573)
  line L5 (-6, 48.6573) -> (-6, 24.6573)
  line L6 (-6, 24.6573) -> (-3.5, 24.6573)
  line L7 (-3.5, 24.6573) -> (-3.5, 2.1573)
  line L8 (-3.5, 2.1573) -> (290.25, 2.1573)
  line L9 (290.25, 2.1573) -> (290.25, 24.6573)
  line L10 (290.25, 24.6573) -> (292.75, 24.6573)
  line L11 (292.75, 24.6573) -> (292.75, 48.6573)
  line L12 (292.75, 48.6573) -> (295.25, 48.6573)
  line L13 (295.25, 48.6573) -> (295.25, 72.6573)
  line L14 (295.25, 72.6573) -> (297.75, 72.6573)
  line L15 (297.75, 72.6573) -> (297.75, 104.382)
  circle A0 centre (4.5, 10.1573) radius 3.75
  circle A1 centre (-3, 96.382) radius 3.75
  circle A2 centre (289.75, 96.382) radius 3.75
  circle A3 centre (282.25, 10.1573) radius 3.75
  dimension "d158" = 7.5
  dimension "d159" = 7.5
  dimension "d160" = 7.5
  dimension "d161" = 7.5
  dimension "d162" = 8
  dimension "d163" = 8
  dimension "d164" = 8
  dimension "d165" = 8
  dimension "d166" = 8
  dimension "d167" = 8
  dimension "d168" = 8
  dimension "d169" = 8
extrude "押し出し10" cut sketch "スケッチ10" against normal blind 0.5 contours A0 | A1 | A2 | A3
sketch "スケッチ11" plane through (0, 0, 14.1) normal (0, 0, 1) x (-1, 0, 0)
  line L0 (11, -5) -> (11, 101.25)
  line L1 (11, 101.25) -> (-297.75, 101.25)
  line L2 (-297.75, 101.25) -> (-297.75, -5)
  line L3 (-297.75, -5) -> (11, -5)
  circle A0 centre (3, 93.25) radius 3
  circle A1 centre (3, 3) radius 3
  line L4 (0, 0) -> (-286.75, 0)
  line L5 (-286.75, 0) -> (-286.75, 96.25)
  line L6 (-286.75, 96.25) -> (0, 96.25)
  line L7 (0, 96.25) -> (0, 0)
  line L8 (0, 96.25) -> (3, 96.25)
  line L9 (0, 90.25) -> (3, 90.25)
  line L10 (0, 0) -> (3, 0)
  line L11 (0, 6) -> (3, 6)
  circle A2 centre (-289.75, 93.25) radius 3
  line L12 (-286.75, 96.25) -> (-289.75, 96.25)
  line L13 (-286.75, 90.25) -> (-289.75, 90.25)
  line L14 (-286.75, 0) -> (-289.75, 0)
  line L15 (-286.75, 6) -> (-289.75, 6)
  circle A3 centre (-289.75, 3) radius 3
  circle A4 centre (3, 3) radius 1.25
  circle A5 centre (3, 93.25) radius 1.25
  circle A6 centre (-289.75, 93.25) radius 1.25
  circle A7 centre (-289.75, 3) radius 1.25
  dimension "d172" = 6
  dimension "d173" = 6
  dimension "d174" = 6
  dimension "d175" = 6
  dimension "d178" = 2.5
  dimension "d179" = 2.5
  dimension "d180" = 2.5
  dimension "d181" = 2.5
extrude "押し出し11" cut sketch "スケッチ11" against normal blind 10.5 contours A0 | A0 L7 L8 | A0 L7 L9 | L5 A2 L12 | A1 L7 L11 | A2 | L5 A2 L13 | A1 | A1 L7 L10 | L5 L15 A3 | L5 L14 A3 | A3 | A4 | A5 | A6 | A7
fillet "フィレット5" radius 2 4 edges at (0, 0, -0.2) (0, -96.25, -0.2) (286.75, -96.25, -0.2) (286.75, 0, -0.2)
fillet "フィレット6" radius 1 4 edges at (0, -6, 8.85) (0, -90.25, 8.85) (286.75, -6, 8.85) (286.75, -90.25, 8.85)
fillet "フィレット7" radius 2 4 edges at (11, 1, -0.4) (11, -4, -5.4) (25, -4, -5.4) (25, 1, -0.4)
extrude "押し出し12" cut sketch "スケッチ11" against normal blind 15.5 contours A4 | A5 | A6 | A7
extrude "押し出し13" cut sketch "スケッチ1" against normal blind 9 contours A6 | A7 | A10 | A11
chamfer "面取り8" distance 0.5 angle 45 16 edges at (143.375, 0, 14.1) (292.75, -3, 14.1) (288.75, -6, 14.1) (287.0429, -6.2929, 14.1) (286.75, -48.125, 14.1) (287.0429, -89.9571, 14.1) (288.75, -90.25, 14.1) (292.75, -93.25, 14.1) (143.375, -96.25, 14.1) (-6, -93.25, 14.1) (-2, -90.25, 14.1) (-0.2929, -89.9571, 14.1) (0, -48.125, 14.1) (-0.2929, -6.2929, 14.1) (-2, -6, 14.1) (-6, -3, 14.1)
equation "d7 = ( 19.05 * 15 ) * 1 mm + ( 0.5 * 2 ) * 1 mm"
equation "d8 = ( 19.05 * 5 ) * 1 mm + ( 0.5 * 2 ) * 1 mm"
equation "d14 = 28 mm + 0.5 mm"
equation "d15 = 25.3 mm + 0.5 mm"
equation "d20 = 28 mm + 0.5 mm"
equation "d21 = 25.5 mm + 0.5 mm"
equation "d22 = 38.5 mm + 0.5 mm"
equation "d23 = 3.5 mm + 0.5 mm"
equation "d24 = 3.5 mm + 0.5 mm"
equation "d25 = 38.5 mm + 0.5 mm"
equation "d26 = 9.9 mm + 0.5 mm"
equation "d27 = 94.8 mm + 0.5 mm"
equation "d29 = 128.5 mm + 0.5 mm"
equation "d30 = 48 mm + 0.5 mm"
equation "d31 = 7.5 mm + 5 mm + 1.6 mm"
equation "d33 = -2 mm - 2 mm"
equation "d44 = 9 mm + 15 mm"
equation "d48 = 12 mm + 15 mm"
equation "d64 = -7.5 mm - 1.5 mm"
equation "d80 = ( 23 * 2 ) * 1 mm + 1 mm"
equation "d81 = ( 23 * 3 ) * 1 mm + 2 mm"
equation "d117 = ( 23 * 2 ) * 1 mm + 1 mm"
equation "d118 = ( 23 * 3 ) * 1 mm + 2 mm"
equation "d176 = -7.5 mm - 1.5 mm - 1.5 mm"
equation "d188 = -10.5 mm - 5 mm"
equation "d190 = -4 mm - 5 mm"
